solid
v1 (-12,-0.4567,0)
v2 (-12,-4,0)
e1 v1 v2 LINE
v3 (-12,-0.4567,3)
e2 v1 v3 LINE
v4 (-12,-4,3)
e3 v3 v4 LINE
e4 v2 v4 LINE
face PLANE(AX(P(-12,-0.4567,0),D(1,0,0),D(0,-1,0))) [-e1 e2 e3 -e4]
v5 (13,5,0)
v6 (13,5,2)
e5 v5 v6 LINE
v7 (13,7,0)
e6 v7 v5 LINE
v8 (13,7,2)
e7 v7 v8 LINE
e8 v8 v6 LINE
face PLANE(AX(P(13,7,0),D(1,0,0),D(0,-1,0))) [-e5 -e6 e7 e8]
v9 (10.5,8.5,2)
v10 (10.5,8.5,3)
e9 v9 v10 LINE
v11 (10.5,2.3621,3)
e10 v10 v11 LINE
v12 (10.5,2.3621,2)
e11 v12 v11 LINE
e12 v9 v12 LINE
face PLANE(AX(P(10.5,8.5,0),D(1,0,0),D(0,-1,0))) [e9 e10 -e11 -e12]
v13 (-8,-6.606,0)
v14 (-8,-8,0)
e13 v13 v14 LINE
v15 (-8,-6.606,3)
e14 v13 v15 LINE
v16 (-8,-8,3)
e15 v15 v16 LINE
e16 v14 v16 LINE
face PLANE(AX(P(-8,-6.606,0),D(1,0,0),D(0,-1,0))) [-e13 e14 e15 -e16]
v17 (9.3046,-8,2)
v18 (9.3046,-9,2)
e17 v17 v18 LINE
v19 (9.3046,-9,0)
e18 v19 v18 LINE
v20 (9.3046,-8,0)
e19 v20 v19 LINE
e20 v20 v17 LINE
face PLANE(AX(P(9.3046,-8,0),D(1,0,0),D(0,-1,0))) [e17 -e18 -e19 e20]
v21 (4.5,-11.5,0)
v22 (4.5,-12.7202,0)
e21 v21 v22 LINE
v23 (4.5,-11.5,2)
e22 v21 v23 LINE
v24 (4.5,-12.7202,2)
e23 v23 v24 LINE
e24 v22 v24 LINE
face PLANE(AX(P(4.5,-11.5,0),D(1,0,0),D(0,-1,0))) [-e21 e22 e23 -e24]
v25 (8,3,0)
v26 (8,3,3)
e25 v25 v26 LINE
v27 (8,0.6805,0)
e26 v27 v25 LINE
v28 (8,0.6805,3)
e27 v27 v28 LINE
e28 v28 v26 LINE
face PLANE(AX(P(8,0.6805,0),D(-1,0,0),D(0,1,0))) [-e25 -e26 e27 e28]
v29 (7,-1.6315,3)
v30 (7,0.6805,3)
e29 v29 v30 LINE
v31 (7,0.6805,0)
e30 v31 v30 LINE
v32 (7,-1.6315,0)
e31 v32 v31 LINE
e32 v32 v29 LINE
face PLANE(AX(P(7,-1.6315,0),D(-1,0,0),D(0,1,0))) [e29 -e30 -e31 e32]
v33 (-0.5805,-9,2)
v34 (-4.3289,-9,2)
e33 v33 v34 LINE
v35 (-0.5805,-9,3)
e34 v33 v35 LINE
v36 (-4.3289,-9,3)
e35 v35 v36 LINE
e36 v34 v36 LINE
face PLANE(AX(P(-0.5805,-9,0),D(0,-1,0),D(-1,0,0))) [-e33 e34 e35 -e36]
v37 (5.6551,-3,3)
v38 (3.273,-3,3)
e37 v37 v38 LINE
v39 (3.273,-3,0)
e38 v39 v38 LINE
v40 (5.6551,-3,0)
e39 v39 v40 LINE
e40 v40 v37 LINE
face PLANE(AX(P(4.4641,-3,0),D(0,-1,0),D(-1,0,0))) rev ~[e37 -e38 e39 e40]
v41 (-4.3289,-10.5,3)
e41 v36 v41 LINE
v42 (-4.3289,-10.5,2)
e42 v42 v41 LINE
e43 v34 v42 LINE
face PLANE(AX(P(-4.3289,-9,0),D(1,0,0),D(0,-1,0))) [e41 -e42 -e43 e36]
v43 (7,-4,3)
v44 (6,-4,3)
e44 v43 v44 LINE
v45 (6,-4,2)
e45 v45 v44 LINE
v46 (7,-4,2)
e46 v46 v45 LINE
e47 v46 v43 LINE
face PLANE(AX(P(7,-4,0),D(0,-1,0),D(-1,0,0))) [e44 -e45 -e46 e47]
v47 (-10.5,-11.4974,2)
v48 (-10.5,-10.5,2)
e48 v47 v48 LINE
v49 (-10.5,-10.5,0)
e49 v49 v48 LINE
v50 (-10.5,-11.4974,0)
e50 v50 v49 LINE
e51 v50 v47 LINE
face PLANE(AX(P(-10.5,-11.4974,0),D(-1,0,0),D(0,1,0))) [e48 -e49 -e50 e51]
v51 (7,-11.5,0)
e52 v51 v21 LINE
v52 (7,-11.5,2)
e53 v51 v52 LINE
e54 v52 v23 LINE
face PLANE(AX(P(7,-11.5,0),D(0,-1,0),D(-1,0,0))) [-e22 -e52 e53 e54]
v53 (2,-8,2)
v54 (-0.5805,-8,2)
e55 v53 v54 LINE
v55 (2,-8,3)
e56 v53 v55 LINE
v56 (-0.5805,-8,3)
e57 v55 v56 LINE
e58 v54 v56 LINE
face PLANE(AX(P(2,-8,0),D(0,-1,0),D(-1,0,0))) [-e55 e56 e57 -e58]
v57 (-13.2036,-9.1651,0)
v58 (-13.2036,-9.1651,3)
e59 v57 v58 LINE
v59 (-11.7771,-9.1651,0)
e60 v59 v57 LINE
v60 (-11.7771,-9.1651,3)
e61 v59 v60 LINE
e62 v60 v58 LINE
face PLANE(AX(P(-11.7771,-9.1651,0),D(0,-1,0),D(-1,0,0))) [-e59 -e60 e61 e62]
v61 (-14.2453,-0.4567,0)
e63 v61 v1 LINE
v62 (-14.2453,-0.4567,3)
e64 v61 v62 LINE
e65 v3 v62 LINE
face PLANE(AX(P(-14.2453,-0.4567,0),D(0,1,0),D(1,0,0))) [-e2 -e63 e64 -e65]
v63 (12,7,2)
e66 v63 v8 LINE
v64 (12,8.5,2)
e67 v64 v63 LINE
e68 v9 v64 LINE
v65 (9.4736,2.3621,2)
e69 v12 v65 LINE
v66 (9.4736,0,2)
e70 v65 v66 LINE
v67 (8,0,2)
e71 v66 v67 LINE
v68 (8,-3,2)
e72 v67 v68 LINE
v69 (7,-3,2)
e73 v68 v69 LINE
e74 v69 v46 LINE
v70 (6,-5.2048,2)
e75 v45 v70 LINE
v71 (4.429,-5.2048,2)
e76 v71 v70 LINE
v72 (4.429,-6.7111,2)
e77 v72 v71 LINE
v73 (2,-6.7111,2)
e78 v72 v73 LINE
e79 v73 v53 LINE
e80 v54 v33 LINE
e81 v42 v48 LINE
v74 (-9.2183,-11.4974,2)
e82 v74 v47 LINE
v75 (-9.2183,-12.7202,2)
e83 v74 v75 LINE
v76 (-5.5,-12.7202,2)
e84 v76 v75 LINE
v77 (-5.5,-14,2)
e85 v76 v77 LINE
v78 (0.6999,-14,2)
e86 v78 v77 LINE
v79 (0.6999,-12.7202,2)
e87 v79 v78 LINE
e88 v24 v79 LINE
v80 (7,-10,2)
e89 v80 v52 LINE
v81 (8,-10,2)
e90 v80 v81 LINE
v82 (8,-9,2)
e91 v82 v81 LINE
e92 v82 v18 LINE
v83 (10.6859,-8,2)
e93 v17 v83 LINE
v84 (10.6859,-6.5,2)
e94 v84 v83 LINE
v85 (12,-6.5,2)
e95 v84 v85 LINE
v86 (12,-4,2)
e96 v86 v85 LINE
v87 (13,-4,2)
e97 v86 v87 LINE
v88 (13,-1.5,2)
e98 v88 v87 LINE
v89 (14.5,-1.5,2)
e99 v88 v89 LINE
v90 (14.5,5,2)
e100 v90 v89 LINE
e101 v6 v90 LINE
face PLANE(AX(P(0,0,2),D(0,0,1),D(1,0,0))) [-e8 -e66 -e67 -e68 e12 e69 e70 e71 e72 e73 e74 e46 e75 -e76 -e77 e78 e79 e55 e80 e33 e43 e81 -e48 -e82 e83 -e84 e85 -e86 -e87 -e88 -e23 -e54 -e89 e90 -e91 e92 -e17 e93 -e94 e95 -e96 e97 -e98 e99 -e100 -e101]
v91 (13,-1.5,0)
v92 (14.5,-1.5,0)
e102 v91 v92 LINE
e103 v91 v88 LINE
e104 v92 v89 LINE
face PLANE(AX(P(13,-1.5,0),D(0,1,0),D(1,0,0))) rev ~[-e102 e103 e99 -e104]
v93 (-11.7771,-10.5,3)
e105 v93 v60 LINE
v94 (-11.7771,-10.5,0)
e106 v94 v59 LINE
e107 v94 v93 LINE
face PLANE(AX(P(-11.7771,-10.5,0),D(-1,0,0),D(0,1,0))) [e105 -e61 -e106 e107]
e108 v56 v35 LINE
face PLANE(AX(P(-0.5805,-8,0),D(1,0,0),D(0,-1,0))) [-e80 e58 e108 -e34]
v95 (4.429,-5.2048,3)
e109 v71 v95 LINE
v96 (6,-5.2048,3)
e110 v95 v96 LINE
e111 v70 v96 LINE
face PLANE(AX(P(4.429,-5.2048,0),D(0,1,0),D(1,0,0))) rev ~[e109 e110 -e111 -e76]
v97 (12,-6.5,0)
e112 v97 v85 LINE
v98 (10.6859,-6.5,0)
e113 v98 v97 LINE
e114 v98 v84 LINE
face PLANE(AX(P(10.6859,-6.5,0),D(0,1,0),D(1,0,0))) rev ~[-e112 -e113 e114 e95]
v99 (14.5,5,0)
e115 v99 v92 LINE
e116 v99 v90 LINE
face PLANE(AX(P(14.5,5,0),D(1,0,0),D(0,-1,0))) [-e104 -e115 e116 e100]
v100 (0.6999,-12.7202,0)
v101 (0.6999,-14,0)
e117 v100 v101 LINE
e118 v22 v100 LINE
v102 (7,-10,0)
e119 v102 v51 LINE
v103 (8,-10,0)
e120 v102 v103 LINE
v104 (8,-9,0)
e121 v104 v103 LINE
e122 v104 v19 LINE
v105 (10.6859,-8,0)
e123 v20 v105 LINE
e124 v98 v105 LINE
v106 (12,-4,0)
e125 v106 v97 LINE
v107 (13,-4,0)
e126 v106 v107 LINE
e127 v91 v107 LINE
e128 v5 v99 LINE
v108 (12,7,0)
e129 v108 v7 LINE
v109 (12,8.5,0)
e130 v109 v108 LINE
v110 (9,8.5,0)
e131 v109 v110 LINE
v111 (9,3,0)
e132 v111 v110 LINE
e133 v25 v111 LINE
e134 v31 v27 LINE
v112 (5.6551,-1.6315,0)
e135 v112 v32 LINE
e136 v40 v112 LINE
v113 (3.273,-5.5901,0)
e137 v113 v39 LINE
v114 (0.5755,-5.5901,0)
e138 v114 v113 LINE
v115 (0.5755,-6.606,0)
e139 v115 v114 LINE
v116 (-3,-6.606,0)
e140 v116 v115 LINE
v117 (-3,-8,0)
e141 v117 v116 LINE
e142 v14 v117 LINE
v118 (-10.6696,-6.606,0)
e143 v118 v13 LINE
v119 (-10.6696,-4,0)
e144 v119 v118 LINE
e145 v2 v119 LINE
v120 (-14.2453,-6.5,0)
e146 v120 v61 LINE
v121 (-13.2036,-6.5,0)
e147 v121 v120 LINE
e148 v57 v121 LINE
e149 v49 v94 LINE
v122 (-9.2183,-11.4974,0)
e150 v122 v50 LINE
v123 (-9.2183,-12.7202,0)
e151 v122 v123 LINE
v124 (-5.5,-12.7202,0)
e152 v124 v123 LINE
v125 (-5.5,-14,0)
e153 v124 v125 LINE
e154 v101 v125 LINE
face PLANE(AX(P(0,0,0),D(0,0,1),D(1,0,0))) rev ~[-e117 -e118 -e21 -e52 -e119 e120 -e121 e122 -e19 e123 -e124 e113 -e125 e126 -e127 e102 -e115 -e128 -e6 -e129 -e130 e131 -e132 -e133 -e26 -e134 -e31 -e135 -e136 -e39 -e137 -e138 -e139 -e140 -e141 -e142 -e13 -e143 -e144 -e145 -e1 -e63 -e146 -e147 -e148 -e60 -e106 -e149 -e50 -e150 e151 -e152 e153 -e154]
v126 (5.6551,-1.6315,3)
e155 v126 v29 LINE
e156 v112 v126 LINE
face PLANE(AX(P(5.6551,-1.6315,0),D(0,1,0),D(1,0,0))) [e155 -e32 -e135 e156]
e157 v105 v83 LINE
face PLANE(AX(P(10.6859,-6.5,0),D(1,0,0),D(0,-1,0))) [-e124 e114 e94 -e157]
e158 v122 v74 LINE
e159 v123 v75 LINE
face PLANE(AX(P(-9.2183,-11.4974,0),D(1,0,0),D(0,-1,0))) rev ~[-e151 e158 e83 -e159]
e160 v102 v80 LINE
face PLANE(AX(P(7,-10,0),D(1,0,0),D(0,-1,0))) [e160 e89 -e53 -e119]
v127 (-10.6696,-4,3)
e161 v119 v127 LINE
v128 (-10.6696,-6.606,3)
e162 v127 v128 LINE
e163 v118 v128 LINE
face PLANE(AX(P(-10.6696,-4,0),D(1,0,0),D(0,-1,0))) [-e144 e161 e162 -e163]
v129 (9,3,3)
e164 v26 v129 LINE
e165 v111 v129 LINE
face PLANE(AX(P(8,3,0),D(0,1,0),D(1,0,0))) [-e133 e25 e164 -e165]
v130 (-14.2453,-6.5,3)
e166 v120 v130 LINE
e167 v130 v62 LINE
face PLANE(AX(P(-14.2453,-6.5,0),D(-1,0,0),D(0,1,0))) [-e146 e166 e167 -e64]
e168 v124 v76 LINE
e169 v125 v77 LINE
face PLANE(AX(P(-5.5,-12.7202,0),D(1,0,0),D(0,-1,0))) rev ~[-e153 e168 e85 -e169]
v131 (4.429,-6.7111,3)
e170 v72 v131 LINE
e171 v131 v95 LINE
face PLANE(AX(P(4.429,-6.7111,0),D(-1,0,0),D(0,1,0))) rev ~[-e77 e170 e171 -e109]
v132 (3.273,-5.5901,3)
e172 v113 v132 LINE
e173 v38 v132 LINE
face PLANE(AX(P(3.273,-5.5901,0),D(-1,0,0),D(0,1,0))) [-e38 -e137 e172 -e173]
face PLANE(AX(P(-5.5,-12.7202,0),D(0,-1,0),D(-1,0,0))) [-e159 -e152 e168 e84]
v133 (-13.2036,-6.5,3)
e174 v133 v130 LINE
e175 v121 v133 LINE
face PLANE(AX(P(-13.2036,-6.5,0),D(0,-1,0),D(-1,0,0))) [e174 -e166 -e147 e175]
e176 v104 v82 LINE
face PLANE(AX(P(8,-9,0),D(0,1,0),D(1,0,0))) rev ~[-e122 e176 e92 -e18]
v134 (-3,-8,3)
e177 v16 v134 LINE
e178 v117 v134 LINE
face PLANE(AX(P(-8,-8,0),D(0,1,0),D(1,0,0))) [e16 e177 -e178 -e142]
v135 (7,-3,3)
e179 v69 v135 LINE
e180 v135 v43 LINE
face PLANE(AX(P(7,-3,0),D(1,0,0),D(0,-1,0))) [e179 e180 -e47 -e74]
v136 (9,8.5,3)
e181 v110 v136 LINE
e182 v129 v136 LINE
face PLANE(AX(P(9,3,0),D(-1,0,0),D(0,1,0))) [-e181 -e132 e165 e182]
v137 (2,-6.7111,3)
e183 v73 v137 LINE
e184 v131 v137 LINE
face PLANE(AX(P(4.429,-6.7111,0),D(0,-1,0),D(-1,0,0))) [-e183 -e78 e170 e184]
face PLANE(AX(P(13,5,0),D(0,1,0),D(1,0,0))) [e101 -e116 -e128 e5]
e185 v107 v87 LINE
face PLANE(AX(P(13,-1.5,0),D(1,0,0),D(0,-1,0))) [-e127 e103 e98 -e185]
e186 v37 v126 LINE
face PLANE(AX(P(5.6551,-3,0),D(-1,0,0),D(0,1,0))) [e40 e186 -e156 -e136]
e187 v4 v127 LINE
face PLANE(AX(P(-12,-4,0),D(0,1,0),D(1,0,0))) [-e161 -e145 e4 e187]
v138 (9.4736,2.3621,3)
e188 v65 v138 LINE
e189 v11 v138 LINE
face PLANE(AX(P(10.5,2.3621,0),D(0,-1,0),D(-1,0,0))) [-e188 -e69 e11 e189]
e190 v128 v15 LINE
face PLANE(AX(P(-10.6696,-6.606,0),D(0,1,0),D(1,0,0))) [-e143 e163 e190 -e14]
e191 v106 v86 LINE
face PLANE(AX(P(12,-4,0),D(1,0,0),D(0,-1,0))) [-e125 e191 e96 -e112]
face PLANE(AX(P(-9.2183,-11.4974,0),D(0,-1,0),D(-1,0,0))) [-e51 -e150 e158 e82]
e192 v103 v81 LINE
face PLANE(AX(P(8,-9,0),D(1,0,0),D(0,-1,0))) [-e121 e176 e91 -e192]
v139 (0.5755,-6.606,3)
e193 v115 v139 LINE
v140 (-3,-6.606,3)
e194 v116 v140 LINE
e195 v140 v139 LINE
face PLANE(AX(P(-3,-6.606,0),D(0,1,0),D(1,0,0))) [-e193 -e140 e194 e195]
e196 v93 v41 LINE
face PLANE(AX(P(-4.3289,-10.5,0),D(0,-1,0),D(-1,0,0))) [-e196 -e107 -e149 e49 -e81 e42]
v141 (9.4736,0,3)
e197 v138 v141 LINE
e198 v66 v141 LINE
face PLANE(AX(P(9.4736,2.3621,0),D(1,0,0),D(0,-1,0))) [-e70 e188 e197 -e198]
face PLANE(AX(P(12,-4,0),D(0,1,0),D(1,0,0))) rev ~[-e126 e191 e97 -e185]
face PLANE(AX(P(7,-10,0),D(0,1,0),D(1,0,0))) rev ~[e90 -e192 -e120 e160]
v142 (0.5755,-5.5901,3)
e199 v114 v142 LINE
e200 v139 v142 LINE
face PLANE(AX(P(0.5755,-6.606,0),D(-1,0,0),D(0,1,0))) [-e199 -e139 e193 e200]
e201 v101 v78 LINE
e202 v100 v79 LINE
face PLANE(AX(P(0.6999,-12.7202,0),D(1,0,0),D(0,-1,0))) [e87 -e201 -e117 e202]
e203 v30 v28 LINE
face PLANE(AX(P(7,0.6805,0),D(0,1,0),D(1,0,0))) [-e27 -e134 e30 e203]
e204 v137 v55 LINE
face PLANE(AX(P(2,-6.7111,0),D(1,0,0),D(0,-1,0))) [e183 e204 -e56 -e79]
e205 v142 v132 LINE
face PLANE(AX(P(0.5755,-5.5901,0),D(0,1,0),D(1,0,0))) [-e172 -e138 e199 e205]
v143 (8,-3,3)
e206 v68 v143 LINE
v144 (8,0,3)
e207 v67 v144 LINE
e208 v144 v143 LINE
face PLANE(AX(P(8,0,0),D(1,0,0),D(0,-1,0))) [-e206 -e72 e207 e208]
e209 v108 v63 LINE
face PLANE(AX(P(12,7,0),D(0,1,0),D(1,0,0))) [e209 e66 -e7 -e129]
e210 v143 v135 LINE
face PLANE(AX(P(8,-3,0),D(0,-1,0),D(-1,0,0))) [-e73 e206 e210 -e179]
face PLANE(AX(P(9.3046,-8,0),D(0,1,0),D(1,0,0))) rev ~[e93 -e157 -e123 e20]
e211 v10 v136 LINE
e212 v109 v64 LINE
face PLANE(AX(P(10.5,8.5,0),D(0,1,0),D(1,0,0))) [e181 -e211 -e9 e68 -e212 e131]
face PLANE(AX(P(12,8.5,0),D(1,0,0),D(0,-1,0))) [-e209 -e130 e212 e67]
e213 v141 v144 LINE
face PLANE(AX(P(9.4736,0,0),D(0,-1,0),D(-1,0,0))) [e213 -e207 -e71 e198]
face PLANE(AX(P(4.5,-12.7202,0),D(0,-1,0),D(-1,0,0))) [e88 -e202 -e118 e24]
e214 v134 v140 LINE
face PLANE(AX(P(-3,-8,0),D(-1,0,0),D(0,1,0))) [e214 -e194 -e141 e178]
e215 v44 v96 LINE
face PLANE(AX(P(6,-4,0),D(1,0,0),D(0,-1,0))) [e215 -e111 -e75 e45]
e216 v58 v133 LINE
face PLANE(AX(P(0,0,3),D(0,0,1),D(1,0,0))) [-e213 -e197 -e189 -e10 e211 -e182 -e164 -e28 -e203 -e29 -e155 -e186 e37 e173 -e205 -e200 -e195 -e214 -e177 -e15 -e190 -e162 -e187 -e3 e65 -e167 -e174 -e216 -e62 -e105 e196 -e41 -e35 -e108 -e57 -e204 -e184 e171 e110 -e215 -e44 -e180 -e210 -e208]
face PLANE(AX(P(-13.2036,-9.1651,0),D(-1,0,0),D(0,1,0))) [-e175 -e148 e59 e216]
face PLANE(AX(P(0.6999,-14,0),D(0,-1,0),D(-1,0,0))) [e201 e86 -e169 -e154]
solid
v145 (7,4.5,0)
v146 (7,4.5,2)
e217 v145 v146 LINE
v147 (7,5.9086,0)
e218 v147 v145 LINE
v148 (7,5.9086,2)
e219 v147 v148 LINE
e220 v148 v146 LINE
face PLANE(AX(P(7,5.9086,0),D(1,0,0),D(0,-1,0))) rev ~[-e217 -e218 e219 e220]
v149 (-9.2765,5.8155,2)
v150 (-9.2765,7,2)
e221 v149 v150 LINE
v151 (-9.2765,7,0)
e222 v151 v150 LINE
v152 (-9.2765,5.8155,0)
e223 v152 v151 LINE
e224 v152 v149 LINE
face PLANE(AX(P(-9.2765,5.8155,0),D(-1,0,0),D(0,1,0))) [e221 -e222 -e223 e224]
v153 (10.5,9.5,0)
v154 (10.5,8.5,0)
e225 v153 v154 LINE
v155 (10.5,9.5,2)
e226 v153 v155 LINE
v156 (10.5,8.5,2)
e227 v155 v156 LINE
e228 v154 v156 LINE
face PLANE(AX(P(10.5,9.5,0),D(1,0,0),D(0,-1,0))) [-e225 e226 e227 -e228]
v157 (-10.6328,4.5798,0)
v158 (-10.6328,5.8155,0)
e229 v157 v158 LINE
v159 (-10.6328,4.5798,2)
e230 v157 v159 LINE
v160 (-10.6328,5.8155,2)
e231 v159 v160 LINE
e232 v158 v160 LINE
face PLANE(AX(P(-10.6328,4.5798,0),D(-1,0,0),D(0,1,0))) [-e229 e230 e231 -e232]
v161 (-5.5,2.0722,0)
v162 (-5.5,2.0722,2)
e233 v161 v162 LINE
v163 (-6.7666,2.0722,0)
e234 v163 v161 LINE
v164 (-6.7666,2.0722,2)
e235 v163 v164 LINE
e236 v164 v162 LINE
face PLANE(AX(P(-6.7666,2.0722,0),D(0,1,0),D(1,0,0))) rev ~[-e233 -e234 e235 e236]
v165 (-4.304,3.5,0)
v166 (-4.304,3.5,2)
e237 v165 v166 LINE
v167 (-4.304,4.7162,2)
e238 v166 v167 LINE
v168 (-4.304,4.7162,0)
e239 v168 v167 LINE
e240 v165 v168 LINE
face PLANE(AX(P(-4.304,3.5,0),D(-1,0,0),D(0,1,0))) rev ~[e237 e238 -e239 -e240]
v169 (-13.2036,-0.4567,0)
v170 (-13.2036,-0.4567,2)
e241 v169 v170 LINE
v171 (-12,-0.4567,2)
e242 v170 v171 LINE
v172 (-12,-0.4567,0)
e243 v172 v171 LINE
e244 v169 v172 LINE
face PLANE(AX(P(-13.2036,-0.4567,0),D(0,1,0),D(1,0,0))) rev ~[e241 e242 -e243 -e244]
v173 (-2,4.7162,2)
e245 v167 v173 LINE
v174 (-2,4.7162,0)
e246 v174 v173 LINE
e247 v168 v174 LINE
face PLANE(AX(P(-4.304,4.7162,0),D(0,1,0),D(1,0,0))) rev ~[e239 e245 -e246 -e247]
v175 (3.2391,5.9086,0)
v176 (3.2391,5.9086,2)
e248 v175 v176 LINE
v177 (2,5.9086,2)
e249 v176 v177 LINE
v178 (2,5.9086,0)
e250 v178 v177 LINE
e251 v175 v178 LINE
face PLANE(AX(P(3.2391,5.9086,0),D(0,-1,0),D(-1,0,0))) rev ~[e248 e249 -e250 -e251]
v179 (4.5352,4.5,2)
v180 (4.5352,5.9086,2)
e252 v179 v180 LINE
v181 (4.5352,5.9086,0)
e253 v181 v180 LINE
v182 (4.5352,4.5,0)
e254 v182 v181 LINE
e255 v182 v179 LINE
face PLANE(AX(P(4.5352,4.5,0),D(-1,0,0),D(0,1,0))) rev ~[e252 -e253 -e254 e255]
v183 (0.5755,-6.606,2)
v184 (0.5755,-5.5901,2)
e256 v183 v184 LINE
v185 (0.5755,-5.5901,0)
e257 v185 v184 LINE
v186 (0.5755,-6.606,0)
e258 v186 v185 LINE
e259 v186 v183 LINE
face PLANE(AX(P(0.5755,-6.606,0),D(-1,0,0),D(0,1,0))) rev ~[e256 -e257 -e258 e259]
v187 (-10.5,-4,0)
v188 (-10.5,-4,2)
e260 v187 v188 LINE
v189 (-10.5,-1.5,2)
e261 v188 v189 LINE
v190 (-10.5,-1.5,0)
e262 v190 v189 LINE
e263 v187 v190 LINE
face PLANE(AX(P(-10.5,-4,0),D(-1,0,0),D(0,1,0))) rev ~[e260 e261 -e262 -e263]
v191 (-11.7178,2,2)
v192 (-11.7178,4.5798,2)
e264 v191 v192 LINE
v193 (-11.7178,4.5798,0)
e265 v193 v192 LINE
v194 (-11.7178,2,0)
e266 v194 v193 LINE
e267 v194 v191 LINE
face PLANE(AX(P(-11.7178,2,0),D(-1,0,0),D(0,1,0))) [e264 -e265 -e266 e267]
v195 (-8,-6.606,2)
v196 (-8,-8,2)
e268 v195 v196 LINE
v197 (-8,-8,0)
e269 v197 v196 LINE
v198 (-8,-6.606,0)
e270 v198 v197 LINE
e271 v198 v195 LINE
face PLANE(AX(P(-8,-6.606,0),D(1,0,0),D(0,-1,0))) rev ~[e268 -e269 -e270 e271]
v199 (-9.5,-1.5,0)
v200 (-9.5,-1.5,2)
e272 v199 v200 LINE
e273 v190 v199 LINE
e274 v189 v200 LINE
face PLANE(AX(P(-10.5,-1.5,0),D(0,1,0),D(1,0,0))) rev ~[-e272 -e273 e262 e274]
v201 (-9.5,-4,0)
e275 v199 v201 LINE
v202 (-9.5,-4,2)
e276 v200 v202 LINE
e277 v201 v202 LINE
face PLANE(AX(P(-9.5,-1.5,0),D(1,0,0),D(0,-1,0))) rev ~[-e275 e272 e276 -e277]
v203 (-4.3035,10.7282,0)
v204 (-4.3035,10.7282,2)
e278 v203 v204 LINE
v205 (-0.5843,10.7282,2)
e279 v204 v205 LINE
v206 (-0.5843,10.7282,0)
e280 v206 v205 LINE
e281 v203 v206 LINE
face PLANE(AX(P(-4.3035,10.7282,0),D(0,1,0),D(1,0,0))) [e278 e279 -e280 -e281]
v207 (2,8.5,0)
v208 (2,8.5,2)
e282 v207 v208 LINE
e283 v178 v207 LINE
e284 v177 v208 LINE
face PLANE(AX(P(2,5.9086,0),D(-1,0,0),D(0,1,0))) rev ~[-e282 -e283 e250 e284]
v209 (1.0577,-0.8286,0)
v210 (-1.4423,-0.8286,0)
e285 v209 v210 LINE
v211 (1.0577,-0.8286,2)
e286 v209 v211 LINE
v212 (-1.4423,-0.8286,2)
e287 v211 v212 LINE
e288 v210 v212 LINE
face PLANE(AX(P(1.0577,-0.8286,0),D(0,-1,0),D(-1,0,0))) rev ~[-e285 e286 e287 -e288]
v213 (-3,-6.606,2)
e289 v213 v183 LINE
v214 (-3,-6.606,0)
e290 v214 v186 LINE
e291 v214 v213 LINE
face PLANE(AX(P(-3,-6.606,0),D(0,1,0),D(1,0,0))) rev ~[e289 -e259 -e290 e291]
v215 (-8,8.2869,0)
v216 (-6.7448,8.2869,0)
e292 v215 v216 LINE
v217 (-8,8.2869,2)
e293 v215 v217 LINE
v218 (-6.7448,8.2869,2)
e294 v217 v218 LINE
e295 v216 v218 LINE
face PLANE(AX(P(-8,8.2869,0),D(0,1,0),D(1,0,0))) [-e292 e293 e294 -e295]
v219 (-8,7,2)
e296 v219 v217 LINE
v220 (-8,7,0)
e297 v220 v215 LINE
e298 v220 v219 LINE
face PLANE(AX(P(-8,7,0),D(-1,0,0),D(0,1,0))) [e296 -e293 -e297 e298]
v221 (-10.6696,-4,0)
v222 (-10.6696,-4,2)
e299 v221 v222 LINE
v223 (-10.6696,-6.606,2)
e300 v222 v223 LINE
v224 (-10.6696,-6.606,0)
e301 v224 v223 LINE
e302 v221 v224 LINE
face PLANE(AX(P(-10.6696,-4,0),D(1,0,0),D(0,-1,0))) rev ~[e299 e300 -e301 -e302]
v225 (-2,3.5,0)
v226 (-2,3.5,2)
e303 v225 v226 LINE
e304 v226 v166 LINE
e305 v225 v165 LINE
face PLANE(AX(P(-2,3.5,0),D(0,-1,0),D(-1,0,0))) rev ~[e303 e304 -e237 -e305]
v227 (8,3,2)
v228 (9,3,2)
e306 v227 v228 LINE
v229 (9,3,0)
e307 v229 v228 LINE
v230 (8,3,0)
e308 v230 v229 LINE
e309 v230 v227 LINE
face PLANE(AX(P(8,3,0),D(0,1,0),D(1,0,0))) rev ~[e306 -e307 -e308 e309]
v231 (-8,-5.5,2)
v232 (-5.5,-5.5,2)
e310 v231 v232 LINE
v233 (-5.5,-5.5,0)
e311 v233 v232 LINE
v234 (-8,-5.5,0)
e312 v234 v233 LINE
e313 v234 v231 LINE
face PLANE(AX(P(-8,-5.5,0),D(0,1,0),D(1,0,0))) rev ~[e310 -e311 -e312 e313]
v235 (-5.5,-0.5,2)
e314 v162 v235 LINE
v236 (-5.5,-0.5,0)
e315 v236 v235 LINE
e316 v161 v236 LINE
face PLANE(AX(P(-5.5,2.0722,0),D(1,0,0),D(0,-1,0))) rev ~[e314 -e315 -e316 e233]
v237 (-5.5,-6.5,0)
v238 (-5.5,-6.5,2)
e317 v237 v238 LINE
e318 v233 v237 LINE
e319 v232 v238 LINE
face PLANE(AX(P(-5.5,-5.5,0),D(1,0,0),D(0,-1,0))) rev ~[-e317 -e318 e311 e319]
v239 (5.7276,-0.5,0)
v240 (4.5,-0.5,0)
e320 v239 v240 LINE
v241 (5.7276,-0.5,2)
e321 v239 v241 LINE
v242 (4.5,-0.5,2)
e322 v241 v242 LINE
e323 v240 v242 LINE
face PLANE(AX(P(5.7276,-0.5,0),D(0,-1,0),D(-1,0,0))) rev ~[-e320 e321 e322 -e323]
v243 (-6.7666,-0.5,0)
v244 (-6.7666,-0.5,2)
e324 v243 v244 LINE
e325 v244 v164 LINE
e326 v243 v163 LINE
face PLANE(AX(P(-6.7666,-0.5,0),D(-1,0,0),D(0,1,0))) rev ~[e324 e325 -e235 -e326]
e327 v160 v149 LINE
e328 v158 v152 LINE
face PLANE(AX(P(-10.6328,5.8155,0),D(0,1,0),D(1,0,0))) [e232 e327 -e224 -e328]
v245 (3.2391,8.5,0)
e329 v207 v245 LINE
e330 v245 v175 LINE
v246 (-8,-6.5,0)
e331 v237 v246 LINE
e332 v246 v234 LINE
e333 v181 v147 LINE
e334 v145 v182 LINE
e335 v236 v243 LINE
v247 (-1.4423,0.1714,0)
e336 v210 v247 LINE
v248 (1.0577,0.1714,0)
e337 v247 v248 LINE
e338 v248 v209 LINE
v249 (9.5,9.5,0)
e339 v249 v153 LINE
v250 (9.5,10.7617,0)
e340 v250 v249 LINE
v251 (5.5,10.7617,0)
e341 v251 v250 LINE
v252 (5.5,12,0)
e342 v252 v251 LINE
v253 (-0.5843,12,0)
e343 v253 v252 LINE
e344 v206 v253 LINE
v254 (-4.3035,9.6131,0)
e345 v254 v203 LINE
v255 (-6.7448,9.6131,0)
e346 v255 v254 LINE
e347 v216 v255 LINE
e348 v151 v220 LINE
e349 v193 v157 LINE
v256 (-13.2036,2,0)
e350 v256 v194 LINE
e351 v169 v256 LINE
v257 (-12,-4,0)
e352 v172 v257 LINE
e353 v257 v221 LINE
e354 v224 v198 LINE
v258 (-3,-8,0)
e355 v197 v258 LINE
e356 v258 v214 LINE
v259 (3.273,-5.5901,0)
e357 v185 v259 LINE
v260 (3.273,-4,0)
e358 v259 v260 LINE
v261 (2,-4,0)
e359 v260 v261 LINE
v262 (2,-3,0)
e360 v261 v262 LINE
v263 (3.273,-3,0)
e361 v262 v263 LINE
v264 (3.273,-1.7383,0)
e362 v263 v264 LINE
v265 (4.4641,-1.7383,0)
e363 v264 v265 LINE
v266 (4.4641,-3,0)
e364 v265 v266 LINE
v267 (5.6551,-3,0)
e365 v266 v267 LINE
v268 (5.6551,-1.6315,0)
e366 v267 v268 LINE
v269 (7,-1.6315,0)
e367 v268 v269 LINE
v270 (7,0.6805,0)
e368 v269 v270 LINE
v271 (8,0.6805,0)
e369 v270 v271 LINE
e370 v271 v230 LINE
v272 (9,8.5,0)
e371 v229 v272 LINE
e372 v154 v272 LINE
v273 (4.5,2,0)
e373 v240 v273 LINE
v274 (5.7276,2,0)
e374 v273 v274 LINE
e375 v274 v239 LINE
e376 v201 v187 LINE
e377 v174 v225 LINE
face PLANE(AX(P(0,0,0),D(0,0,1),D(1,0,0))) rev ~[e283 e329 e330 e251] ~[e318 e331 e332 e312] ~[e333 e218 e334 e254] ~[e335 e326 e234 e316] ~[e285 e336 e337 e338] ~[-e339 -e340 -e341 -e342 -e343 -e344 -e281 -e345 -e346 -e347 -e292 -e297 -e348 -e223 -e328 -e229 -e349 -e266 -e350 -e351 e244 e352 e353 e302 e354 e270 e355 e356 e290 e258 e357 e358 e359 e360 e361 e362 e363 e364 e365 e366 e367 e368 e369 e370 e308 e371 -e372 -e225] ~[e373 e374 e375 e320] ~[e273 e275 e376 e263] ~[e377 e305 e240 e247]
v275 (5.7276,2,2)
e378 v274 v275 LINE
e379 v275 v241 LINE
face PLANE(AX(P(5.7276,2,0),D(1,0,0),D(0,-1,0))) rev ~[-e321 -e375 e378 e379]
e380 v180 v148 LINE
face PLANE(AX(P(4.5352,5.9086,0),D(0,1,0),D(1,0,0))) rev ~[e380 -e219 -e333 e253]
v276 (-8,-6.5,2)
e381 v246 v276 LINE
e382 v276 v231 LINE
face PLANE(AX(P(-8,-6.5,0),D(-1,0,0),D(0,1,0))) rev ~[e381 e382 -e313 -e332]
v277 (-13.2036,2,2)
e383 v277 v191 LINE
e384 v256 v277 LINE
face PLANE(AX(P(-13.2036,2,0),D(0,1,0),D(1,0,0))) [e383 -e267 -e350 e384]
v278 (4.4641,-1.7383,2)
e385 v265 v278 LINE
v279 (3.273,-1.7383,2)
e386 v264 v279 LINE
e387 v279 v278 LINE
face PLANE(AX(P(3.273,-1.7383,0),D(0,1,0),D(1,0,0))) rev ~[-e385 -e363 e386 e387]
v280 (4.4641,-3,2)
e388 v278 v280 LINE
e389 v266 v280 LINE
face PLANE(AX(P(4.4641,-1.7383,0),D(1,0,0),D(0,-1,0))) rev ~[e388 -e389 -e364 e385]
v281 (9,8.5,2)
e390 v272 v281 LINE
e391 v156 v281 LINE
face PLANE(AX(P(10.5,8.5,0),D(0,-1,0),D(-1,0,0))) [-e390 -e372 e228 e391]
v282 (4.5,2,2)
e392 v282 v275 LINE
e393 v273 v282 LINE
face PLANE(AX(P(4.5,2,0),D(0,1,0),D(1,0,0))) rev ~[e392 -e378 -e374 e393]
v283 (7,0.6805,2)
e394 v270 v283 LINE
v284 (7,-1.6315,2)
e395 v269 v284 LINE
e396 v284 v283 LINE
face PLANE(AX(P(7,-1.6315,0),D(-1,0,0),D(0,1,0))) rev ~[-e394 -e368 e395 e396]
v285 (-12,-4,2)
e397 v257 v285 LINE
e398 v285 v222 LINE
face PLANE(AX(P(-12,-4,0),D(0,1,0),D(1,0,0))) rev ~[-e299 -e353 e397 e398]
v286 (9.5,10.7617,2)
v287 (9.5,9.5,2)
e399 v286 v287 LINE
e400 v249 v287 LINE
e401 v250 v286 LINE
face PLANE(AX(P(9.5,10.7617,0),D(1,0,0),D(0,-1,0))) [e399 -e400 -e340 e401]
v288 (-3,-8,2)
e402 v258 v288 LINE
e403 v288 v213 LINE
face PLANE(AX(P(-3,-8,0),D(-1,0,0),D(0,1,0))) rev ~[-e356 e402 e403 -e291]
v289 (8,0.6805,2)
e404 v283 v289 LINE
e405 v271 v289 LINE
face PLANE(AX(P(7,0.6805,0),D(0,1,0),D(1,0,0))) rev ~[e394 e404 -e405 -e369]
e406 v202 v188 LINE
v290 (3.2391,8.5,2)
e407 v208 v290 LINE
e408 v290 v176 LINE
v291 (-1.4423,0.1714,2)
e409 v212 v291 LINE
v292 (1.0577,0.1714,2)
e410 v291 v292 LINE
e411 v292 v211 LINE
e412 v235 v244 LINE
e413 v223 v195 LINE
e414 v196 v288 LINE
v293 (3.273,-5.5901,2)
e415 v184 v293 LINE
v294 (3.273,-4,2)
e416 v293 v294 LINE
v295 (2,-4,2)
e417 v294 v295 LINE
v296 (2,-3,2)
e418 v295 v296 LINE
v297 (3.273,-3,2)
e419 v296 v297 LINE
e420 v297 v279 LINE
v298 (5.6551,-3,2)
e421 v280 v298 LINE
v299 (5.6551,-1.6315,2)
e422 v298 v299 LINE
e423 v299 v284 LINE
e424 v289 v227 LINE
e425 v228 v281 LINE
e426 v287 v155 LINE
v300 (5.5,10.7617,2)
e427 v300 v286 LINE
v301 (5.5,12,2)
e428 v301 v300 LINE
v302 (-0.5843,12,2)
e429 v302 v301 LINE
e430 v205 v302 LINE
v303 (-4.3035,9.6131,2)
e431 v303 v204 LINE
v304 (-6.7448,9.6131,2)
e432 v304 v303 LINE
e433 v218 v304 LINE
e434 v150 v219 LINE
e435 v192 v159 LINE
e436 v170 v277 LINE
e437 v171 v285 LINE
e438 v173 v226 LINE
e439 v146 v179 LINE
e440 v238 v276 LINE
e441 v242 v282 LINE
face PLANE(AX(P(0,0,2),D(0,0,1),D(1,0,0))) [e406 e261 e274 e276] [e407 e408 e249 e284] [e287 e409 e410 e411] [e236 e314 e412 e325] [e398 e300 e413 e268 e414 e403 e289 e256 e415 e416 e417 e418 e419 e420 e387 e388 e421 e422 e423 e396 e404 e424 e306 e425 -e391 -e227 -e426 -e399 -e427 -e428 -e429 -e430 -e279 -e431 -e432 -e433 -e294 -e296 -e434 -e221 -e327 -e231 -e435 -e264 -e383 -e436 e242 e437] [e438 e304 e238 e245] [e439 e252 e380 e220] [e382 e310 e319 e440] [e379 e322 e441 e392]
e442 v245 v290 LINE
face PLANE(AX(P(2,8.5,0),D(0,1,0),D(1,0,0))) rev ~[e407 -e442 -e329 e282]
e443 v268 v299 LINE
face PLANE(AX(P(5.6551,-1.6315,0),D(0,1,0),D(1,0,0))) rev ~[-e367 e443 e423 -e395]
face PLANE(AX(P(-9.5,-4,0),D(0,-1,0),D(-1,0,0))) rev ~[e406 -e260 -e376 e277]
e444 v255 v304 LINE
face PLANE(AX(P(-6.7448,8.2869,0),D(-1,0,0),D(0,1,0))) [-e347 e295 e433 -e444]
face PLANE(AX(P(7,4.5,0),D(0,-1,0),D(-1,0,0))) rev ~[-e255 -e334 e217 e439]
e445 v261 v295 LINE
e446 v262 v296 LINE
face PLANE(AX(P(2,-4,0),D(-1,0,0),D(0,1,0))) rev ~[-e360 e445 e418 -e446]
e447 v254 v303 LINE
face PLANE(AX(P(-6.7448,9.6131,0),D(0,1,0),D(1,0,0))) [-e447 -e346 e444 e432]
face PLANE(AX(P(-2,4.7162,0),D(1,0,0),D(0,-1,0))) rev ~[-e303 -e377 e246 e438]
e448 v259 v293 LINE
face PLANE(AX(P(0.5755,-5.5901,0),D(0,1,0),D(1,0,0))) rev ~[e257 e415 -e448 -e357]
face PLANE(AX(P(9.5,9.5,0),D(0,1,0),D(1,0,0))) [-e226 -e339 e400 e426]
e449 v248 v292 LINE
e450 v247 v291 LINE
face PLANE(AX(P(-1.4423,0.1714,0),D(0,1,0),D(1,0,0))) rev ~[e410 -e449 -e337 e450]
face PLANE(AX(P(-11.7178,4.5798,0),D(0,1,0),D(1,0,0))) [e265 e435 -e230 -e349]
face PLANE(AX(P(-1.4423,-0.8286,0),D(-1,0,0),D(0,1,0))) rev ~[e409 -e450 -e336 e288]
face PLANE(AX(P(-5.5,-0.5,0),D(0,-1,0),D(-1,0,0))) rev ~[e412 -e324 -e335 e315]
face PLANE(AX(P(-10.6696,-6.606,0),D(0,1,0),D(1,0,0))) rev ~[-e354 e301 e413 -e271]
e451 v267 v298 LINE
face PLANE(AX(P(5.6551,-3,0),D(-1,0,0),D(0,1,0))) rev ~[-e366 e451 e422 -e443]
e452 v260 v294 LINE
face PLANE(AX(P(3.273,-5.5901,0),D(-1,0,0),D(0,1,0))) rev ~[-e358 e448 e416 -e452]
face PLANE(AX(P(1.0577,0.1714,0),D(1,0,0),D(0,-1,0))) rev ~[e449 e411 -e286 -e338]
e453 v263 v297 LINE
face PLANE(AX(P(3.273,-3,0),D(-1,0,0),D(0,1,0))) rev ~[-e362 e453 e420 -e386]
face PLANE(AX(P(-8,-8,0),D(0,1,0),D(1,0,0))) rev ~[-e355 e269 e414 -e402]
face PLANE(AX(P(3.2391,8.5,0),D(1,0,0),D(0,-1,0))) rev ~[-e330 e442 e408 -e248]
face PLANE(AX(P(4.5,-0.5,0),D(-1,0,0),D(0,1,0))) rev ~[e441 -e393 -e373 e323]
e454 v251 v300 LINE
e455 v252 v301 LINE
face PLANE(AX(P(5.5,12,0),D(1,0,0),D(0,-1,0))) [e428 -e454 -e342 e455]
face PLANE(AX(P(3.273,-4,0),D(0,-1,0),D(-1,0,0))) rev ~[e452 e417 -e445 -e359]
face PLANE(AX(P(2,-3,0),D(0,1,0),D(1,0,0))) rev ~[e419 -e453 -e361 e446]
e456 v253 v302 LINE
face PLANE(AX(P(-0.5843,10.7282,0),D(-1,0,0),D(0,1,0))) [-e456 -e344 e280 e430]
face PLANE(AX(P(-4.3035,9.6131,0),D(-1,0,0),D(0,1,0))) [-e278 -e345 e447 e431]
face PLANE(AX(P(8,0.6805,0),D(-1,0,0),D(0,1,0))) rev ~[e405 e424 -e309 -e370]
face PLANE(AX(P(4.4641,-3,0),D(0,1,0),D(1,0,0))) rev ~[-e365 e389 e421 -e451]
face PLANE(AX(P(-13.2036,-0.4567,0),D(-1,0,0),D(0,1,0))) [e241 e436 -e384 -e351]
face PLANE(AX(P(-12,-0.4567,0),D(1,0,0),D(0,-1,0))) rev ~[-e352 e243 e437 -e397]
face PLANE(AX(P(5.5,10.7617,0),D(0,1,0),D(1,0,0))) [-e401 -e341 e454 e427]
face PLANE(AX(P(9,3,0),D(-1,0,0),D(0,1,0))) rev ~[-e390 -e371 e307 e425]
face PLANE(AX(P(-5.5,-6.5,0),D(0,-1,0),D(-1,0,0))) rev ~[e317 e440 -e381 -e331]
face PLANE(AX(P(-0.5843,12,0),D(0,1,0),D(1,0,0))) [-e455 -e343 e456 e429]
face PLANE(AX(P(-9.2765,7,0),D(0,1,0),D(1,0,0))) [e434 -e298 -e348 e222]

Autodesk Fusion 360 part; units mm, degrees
sketch "donut" plane through (0, 0, 0) normal (0, 0, 1) x (1, 0, 0)
  line L0 (-14.8997, 14.5433) -> (15.1003, 14.5433)
  line L1 (15.1003, 14.5433) -> (15.1003, -15.4567)
  line L2 (15.1003, -15.4567) -> (-14.8997, -15.4567)
  line L3 (-14.8997, -15.4567) -> (-14.8997, 14.5433)
  line L4 (0.1003, -15.4567) -> (7, -15.4567)
  line L5 (-0.5843, 12) -> (5.5, 12)
  line L6 (5.5, 10.7617) -> (9.5, 10.7617)
  line L7 (9.5, 10.7617) -> (9.5, 9.5)
  line L8 (9.5, 9.5) -> (10.5, 9.5)
  line L9 (10.5, 8.5) -> (12, 8.5)
  line L10 (12, 8.5) -> (12, 7)
  line L11 (12, 7) -> (13, 7)
  line L12 (13, 7) -> (13, 5)
  line L13 (13, 5) -> (14.5, 5)
  line L14 (14.5, 5) -> (14.5, -1.5)
  line L15 (13, -1.5) -> (13, -4)
  line L16 (12, -4) -> (12, -6.5)
  line L17 (10.6859, -6.5) -> (10.6859, -8)
  line L18 (9.3046, -8) -> (9.3046, -9)
  line L19 (8, -9) -> (8, -10)
  line L20 (7, -10) -> (7, -11.5)
  line L21 (7, -11.5) -> (4.5, -11.5)
  line L22 (4.5, -11.5) -> (4.5, -12.7202)
  line L23 (4.5, -12.7202) -> (0.6999, -12.7202)
  line L24 (0.6999, -12.7202) -> (0.6999, -14)
  line L25 (0.6999, -14) -> (-5.5, -14)
  line L26 (-5.5, -12.7202) -> (-9.2183, -12.7202)
  line L27 (-9.2183, -11.4974) -> (-10.5, -11.4974)
  line L28 (-10.5, -10.5) -> (-11.7771, -10.5)
  line L29 (-11.7771, -9.1651) -> (-13.2036, -9.1651)
  line L30 (-13.2036, -9.1651) -> (-13.2036, -6.5)
  line L31 (-13.2036, -6.5) -> (-14.2453, -6.5)
  line L32 (-14.2453, -6.5) -> (-14.2453, -0.4567)
  line L33 (-13.2036, -0.4567) -> (-13.2036, 2)
  line L34 (-11.7178, 2) -> (-11.7178, 4.5798)
  line L35 (-10.6328, 4.5798) -> (-10.6328, 5.8155)
  line L36 (-9.2765, 5.8155) -> (-9.2765, 7)
  line L37 (-8, 7) -> (-8, 8.2869)
  line L38 (-6.7448, 8.2869) -> (-6.7448, 9.6131)
  line L39 (-6.7448, 9.6131) -> (-4.3035, 9.6131)
  line L40 (-4.3035, 9.6131) -> (-4.3035, 10.7282)
  line L41 (-4.3035, 10.7282) -> (-0.5843, 10.7282)
  line L42 (-0.5843, 10.7282) -> (-0.5843, 12)
  line L43 (-13.2036, -0.4567) -> (-12, -0.4567)
  line L44 (-12, -0.4567) -> (-12, -4)
  line L45 (-12, -4) -> (-10.6696, -4)
  line L46 (-10.6696, -4) -> (-10.6696, -6.606)
  line L47 (-10.6696, -6.606) -> (-8, -6.606)
  line L48 (-8, -6.606) -> (-8, -8)
  line L49 (-8, -8) -> (-3, -8)
  line L50 (-3, -8) -> (-3, -6.606)
  line L51 (-3, -6.606) -> (0.5755, -6.606)
  line L52 (0.5755, -6.606) -> (0.5755, -5.5901)
  line L53 (0.5755, -5.5901) -> (3.273, -5.5901)
  line L54 (3.273, -5.5901) -> (3.273, -4)
  line L55 (4.4641, -3) -> (5.6551, -3)
  line L56 (5.6551, -3) -> (5.6551, -1.6315)
  line L57 (5.6551, -1.6315) -> (7, -1.6315)
  line L58 (7, -1.6315) -> (7, 0.6805)
  line L59 (7, 0.6805) -> (8, 0.6805)
  line L60 (8, 0.6805) -> (8, 3)
  line L61 (9, 3) -> (9, 8.5)
  line L62 (10.5, 8.5) -> (9, 8.5)
  line L63 (10.5, 8.5) -> (10.5, 2.3621)
  line L64 (10.5, 2.3621) -> (9.4736, 2.3621)
  line L65 (9.4736, 2.3621) -> (9.4736, 0)
  line L66 (9.4736, 0) -> (8, 0)
  line L67 (8, 0) -> (8, -3)
  line L68 (8, -3) -> (7, -3)
  line L69 (7, -3) -> (7, -4)
  line L70 (7, -4) -> (6, -4)
  line L71 (6, -4) -> (6, -5.2048)
  line L72 (4.429, -5.2048) -> (6, -5.2048)
  line L73 (4.429, -6.7111) -> (4.429, -5.2048)
  line L74 (4.429, -6.7111) -> (2, -6.7111)
  line L75 (2, -6.7111) -> (2, -8)
  line L76 (2, -8) -> (-0.5805, -8)
  line L77 (-0.5805, -8) -> (-0.5805, -9)
  line L78 (-0.5805, -9) -> (-4.3289, -9)
  line L79 (-4.3289, -9) -> (-4.3289, -10.5)
  line L80 (-4.3289, -10.5) -> (-10.5, -10.5)
  line L81 (-10.5, -1.5) -> (-9.5, -1.5)
  line L82 (-9.5, -1.5) -> (-9.5, -4)
  line L83 (-9.5, -4) -> (-10.5, -4)
  line L84 (-10.5, -4) -> (-10.5, -1.5)
  line L85 (-6.7666, 2.0722) -> (-5.5, 2.0722)
  line L86 (-5.5, 2.0722) -> (-5.5, -0.5)
  line L87 (-5.5, -0.5) -> (-6.7666, -0.5)
  line L88 (-6.7666, -0.5) -> (-6.7666, 2.0722)
  line L89 (-8, -5.5) -> (-5.5, -5.5)
  line L90 (-5.5, -5.5) -> (-5.5, -6.5)
  line L91 (-5.5, -6.5) -> (-8, -6.5)
  line L92 (-8, -6.5) -> (-8, -5.5)
  line L93 (4.5, 2) -> (5.7276, 2)
  line L94 (5.7276, 2) -> (5.7276, -0.5)
  line L95 (5.7276, -0.5) -> (4.5, -0.5)
  line L96 (4.5, -0.5) -> (4.5, 2)
  line L97 (2, -3) -> (3.273, -3)
  line L98 (3.273, -3) -> (3.273, -4)
  line L99 (3.273, -4) -> (2, -4)
  line L100 (2, -4) -> (2, -3)
  line L101 (3.273, -1.7383) -> (4.4641, -1.7383)
  line L102 (4.4641, -1.7383) -> (4.4641, -3)
  line L103 (4.4641, -3) -> (3.273, -3)
  line L104 (3.273, -3) -> (3.273, -1.7383)
  line L105 (-4.304, 4.7162) -> (-2, 4.7162)
  line L106 (-2, 4.7162) -> (-2, 3.5)
  line L107 (-2, 3.5) -> (-4.304, 3.5)
  line L108 (-4.304, 3.5) -> (-4.304, 4.7162)
  line L109 (2, 8.5) -> (3.2391, 8.5)
  line L110 (3.2391, 8.5) -> (3.2391, 5.9086)
  line L111 (3.2391, 5.9086) -> (2, 5.9086)
  line L112 (2, 5.9086) -> (2, 8.5)
  line L113 (4.5352, 5.9086) -> (7, 5.9086)
  line L114 (7, 5.9086) -> (7, 4.5)
  line L115 (7, 4.5) -> (4.5352, 4.5)
  line L116 (4.5352, 4.5) -> (4.5352, 5.9086)
  line L117 (-1.4423, 0.1714) -> (1.0577, 0.1714)
  line L118 (1.0577, 0.1714) -> (1.0577, -0.8286)
  line L119 (1.0577, -0.8286) -> (-1.4423, -0.8286)
  line L120 (-1.4423, -0.8286) -> (-1.4423, 0.1714)
  line L121 (-11.7771, -10.5) -> (-11.7771, -9.1651)
  line L122 (-13.2036, 2) -> (-11.7178, 2)
  line L123 (-11.7178, 4.5798) -> (-10.6328, 4.5798)
  line L124 (-9.2183, -11.4974) -> (-9.2183, -12.7202)
  line L125 (-5.5, -12.7202) -> (-5.5, -14)
  line L126 (7, -10) -> (8, -10)
  line L127 (8, -9) -> (9.3046, -9)
  line L128 (9.3046, -8) -> (10.6859, -8)
  line L129 (10.6859, -6.5) -> (12, -6.5)
  line L130 (12, -4) -> (13, -4)
  line L131 (13, -1.5) -> (14.5, -1.5)
  line L132 (-10.6328, 5.8155) -> (-9.2765, 5.8155)
  line L133 (-14.2453, -0.4567) -> (-13.2036, -0.4567)
  line L134 (-9.2765, 7) -> (-8, 7)
  line L135 (-8, 8.2869) -> (-6.7448, 8.2869)
  line L136 (5.5, 12) -> (5.5, 10.7617)
  line L137 (10.5, 9.5) -> (10.5, 8.5)
  line L138 (8, 3) -> (9, 3)
  line L139 (-10.5, -11.4974) -> (-10.5, -10.5)
  dimension "d1" = 30
  dimension "d2" = 30
extrude "Extrude1" add sketch "donut" along normal blind 2 contours L9 L10 L11 L12 L13 L14 L15 L16 L17 L18 L19 L20 L21 L22 L23 L24 L25 L26 L27 L63 L64 L65 L66 L67 L68 L69 L70 L71 L72 L73 L74 L75 L76 L77 L78 L79 L80 L124 L125 L126 L127 L128 L129 L130 L131 L139 makes body 1
extrude "Extrude2" add sketch "donut" along normal blind 3 contours L28 L29 L30 L31 L32 L43 L44 L45 L46 L47 L48 L49 L50 L51 L52 L53 L54 L55 L56 L57 L58 L59 L60 L61 L62 L63 L64 L65 L66 L67 L68 L69 L70 L71 L72 L73 L74 L75 L76 L77 L78 L79 L80 L98 L103 L121 L133 L138 bodies 1
extrude "Extrude3" add sketch "donut" along normal blind 2 separate body contours L5 L6 L7 L8 L33 L34 L35 L36 L37 L38 L39 L40 L41 L42 L43 L44 L45 L46 L47 L48 L49 L50 L51 L52 L53 L54 L55 L56 L57 L58 L59 L60 L61 L62 L97 L99 L100 L101 L102 L104 L122 L123 L132 L134 L135 L136 L137 L138 makes body 2
